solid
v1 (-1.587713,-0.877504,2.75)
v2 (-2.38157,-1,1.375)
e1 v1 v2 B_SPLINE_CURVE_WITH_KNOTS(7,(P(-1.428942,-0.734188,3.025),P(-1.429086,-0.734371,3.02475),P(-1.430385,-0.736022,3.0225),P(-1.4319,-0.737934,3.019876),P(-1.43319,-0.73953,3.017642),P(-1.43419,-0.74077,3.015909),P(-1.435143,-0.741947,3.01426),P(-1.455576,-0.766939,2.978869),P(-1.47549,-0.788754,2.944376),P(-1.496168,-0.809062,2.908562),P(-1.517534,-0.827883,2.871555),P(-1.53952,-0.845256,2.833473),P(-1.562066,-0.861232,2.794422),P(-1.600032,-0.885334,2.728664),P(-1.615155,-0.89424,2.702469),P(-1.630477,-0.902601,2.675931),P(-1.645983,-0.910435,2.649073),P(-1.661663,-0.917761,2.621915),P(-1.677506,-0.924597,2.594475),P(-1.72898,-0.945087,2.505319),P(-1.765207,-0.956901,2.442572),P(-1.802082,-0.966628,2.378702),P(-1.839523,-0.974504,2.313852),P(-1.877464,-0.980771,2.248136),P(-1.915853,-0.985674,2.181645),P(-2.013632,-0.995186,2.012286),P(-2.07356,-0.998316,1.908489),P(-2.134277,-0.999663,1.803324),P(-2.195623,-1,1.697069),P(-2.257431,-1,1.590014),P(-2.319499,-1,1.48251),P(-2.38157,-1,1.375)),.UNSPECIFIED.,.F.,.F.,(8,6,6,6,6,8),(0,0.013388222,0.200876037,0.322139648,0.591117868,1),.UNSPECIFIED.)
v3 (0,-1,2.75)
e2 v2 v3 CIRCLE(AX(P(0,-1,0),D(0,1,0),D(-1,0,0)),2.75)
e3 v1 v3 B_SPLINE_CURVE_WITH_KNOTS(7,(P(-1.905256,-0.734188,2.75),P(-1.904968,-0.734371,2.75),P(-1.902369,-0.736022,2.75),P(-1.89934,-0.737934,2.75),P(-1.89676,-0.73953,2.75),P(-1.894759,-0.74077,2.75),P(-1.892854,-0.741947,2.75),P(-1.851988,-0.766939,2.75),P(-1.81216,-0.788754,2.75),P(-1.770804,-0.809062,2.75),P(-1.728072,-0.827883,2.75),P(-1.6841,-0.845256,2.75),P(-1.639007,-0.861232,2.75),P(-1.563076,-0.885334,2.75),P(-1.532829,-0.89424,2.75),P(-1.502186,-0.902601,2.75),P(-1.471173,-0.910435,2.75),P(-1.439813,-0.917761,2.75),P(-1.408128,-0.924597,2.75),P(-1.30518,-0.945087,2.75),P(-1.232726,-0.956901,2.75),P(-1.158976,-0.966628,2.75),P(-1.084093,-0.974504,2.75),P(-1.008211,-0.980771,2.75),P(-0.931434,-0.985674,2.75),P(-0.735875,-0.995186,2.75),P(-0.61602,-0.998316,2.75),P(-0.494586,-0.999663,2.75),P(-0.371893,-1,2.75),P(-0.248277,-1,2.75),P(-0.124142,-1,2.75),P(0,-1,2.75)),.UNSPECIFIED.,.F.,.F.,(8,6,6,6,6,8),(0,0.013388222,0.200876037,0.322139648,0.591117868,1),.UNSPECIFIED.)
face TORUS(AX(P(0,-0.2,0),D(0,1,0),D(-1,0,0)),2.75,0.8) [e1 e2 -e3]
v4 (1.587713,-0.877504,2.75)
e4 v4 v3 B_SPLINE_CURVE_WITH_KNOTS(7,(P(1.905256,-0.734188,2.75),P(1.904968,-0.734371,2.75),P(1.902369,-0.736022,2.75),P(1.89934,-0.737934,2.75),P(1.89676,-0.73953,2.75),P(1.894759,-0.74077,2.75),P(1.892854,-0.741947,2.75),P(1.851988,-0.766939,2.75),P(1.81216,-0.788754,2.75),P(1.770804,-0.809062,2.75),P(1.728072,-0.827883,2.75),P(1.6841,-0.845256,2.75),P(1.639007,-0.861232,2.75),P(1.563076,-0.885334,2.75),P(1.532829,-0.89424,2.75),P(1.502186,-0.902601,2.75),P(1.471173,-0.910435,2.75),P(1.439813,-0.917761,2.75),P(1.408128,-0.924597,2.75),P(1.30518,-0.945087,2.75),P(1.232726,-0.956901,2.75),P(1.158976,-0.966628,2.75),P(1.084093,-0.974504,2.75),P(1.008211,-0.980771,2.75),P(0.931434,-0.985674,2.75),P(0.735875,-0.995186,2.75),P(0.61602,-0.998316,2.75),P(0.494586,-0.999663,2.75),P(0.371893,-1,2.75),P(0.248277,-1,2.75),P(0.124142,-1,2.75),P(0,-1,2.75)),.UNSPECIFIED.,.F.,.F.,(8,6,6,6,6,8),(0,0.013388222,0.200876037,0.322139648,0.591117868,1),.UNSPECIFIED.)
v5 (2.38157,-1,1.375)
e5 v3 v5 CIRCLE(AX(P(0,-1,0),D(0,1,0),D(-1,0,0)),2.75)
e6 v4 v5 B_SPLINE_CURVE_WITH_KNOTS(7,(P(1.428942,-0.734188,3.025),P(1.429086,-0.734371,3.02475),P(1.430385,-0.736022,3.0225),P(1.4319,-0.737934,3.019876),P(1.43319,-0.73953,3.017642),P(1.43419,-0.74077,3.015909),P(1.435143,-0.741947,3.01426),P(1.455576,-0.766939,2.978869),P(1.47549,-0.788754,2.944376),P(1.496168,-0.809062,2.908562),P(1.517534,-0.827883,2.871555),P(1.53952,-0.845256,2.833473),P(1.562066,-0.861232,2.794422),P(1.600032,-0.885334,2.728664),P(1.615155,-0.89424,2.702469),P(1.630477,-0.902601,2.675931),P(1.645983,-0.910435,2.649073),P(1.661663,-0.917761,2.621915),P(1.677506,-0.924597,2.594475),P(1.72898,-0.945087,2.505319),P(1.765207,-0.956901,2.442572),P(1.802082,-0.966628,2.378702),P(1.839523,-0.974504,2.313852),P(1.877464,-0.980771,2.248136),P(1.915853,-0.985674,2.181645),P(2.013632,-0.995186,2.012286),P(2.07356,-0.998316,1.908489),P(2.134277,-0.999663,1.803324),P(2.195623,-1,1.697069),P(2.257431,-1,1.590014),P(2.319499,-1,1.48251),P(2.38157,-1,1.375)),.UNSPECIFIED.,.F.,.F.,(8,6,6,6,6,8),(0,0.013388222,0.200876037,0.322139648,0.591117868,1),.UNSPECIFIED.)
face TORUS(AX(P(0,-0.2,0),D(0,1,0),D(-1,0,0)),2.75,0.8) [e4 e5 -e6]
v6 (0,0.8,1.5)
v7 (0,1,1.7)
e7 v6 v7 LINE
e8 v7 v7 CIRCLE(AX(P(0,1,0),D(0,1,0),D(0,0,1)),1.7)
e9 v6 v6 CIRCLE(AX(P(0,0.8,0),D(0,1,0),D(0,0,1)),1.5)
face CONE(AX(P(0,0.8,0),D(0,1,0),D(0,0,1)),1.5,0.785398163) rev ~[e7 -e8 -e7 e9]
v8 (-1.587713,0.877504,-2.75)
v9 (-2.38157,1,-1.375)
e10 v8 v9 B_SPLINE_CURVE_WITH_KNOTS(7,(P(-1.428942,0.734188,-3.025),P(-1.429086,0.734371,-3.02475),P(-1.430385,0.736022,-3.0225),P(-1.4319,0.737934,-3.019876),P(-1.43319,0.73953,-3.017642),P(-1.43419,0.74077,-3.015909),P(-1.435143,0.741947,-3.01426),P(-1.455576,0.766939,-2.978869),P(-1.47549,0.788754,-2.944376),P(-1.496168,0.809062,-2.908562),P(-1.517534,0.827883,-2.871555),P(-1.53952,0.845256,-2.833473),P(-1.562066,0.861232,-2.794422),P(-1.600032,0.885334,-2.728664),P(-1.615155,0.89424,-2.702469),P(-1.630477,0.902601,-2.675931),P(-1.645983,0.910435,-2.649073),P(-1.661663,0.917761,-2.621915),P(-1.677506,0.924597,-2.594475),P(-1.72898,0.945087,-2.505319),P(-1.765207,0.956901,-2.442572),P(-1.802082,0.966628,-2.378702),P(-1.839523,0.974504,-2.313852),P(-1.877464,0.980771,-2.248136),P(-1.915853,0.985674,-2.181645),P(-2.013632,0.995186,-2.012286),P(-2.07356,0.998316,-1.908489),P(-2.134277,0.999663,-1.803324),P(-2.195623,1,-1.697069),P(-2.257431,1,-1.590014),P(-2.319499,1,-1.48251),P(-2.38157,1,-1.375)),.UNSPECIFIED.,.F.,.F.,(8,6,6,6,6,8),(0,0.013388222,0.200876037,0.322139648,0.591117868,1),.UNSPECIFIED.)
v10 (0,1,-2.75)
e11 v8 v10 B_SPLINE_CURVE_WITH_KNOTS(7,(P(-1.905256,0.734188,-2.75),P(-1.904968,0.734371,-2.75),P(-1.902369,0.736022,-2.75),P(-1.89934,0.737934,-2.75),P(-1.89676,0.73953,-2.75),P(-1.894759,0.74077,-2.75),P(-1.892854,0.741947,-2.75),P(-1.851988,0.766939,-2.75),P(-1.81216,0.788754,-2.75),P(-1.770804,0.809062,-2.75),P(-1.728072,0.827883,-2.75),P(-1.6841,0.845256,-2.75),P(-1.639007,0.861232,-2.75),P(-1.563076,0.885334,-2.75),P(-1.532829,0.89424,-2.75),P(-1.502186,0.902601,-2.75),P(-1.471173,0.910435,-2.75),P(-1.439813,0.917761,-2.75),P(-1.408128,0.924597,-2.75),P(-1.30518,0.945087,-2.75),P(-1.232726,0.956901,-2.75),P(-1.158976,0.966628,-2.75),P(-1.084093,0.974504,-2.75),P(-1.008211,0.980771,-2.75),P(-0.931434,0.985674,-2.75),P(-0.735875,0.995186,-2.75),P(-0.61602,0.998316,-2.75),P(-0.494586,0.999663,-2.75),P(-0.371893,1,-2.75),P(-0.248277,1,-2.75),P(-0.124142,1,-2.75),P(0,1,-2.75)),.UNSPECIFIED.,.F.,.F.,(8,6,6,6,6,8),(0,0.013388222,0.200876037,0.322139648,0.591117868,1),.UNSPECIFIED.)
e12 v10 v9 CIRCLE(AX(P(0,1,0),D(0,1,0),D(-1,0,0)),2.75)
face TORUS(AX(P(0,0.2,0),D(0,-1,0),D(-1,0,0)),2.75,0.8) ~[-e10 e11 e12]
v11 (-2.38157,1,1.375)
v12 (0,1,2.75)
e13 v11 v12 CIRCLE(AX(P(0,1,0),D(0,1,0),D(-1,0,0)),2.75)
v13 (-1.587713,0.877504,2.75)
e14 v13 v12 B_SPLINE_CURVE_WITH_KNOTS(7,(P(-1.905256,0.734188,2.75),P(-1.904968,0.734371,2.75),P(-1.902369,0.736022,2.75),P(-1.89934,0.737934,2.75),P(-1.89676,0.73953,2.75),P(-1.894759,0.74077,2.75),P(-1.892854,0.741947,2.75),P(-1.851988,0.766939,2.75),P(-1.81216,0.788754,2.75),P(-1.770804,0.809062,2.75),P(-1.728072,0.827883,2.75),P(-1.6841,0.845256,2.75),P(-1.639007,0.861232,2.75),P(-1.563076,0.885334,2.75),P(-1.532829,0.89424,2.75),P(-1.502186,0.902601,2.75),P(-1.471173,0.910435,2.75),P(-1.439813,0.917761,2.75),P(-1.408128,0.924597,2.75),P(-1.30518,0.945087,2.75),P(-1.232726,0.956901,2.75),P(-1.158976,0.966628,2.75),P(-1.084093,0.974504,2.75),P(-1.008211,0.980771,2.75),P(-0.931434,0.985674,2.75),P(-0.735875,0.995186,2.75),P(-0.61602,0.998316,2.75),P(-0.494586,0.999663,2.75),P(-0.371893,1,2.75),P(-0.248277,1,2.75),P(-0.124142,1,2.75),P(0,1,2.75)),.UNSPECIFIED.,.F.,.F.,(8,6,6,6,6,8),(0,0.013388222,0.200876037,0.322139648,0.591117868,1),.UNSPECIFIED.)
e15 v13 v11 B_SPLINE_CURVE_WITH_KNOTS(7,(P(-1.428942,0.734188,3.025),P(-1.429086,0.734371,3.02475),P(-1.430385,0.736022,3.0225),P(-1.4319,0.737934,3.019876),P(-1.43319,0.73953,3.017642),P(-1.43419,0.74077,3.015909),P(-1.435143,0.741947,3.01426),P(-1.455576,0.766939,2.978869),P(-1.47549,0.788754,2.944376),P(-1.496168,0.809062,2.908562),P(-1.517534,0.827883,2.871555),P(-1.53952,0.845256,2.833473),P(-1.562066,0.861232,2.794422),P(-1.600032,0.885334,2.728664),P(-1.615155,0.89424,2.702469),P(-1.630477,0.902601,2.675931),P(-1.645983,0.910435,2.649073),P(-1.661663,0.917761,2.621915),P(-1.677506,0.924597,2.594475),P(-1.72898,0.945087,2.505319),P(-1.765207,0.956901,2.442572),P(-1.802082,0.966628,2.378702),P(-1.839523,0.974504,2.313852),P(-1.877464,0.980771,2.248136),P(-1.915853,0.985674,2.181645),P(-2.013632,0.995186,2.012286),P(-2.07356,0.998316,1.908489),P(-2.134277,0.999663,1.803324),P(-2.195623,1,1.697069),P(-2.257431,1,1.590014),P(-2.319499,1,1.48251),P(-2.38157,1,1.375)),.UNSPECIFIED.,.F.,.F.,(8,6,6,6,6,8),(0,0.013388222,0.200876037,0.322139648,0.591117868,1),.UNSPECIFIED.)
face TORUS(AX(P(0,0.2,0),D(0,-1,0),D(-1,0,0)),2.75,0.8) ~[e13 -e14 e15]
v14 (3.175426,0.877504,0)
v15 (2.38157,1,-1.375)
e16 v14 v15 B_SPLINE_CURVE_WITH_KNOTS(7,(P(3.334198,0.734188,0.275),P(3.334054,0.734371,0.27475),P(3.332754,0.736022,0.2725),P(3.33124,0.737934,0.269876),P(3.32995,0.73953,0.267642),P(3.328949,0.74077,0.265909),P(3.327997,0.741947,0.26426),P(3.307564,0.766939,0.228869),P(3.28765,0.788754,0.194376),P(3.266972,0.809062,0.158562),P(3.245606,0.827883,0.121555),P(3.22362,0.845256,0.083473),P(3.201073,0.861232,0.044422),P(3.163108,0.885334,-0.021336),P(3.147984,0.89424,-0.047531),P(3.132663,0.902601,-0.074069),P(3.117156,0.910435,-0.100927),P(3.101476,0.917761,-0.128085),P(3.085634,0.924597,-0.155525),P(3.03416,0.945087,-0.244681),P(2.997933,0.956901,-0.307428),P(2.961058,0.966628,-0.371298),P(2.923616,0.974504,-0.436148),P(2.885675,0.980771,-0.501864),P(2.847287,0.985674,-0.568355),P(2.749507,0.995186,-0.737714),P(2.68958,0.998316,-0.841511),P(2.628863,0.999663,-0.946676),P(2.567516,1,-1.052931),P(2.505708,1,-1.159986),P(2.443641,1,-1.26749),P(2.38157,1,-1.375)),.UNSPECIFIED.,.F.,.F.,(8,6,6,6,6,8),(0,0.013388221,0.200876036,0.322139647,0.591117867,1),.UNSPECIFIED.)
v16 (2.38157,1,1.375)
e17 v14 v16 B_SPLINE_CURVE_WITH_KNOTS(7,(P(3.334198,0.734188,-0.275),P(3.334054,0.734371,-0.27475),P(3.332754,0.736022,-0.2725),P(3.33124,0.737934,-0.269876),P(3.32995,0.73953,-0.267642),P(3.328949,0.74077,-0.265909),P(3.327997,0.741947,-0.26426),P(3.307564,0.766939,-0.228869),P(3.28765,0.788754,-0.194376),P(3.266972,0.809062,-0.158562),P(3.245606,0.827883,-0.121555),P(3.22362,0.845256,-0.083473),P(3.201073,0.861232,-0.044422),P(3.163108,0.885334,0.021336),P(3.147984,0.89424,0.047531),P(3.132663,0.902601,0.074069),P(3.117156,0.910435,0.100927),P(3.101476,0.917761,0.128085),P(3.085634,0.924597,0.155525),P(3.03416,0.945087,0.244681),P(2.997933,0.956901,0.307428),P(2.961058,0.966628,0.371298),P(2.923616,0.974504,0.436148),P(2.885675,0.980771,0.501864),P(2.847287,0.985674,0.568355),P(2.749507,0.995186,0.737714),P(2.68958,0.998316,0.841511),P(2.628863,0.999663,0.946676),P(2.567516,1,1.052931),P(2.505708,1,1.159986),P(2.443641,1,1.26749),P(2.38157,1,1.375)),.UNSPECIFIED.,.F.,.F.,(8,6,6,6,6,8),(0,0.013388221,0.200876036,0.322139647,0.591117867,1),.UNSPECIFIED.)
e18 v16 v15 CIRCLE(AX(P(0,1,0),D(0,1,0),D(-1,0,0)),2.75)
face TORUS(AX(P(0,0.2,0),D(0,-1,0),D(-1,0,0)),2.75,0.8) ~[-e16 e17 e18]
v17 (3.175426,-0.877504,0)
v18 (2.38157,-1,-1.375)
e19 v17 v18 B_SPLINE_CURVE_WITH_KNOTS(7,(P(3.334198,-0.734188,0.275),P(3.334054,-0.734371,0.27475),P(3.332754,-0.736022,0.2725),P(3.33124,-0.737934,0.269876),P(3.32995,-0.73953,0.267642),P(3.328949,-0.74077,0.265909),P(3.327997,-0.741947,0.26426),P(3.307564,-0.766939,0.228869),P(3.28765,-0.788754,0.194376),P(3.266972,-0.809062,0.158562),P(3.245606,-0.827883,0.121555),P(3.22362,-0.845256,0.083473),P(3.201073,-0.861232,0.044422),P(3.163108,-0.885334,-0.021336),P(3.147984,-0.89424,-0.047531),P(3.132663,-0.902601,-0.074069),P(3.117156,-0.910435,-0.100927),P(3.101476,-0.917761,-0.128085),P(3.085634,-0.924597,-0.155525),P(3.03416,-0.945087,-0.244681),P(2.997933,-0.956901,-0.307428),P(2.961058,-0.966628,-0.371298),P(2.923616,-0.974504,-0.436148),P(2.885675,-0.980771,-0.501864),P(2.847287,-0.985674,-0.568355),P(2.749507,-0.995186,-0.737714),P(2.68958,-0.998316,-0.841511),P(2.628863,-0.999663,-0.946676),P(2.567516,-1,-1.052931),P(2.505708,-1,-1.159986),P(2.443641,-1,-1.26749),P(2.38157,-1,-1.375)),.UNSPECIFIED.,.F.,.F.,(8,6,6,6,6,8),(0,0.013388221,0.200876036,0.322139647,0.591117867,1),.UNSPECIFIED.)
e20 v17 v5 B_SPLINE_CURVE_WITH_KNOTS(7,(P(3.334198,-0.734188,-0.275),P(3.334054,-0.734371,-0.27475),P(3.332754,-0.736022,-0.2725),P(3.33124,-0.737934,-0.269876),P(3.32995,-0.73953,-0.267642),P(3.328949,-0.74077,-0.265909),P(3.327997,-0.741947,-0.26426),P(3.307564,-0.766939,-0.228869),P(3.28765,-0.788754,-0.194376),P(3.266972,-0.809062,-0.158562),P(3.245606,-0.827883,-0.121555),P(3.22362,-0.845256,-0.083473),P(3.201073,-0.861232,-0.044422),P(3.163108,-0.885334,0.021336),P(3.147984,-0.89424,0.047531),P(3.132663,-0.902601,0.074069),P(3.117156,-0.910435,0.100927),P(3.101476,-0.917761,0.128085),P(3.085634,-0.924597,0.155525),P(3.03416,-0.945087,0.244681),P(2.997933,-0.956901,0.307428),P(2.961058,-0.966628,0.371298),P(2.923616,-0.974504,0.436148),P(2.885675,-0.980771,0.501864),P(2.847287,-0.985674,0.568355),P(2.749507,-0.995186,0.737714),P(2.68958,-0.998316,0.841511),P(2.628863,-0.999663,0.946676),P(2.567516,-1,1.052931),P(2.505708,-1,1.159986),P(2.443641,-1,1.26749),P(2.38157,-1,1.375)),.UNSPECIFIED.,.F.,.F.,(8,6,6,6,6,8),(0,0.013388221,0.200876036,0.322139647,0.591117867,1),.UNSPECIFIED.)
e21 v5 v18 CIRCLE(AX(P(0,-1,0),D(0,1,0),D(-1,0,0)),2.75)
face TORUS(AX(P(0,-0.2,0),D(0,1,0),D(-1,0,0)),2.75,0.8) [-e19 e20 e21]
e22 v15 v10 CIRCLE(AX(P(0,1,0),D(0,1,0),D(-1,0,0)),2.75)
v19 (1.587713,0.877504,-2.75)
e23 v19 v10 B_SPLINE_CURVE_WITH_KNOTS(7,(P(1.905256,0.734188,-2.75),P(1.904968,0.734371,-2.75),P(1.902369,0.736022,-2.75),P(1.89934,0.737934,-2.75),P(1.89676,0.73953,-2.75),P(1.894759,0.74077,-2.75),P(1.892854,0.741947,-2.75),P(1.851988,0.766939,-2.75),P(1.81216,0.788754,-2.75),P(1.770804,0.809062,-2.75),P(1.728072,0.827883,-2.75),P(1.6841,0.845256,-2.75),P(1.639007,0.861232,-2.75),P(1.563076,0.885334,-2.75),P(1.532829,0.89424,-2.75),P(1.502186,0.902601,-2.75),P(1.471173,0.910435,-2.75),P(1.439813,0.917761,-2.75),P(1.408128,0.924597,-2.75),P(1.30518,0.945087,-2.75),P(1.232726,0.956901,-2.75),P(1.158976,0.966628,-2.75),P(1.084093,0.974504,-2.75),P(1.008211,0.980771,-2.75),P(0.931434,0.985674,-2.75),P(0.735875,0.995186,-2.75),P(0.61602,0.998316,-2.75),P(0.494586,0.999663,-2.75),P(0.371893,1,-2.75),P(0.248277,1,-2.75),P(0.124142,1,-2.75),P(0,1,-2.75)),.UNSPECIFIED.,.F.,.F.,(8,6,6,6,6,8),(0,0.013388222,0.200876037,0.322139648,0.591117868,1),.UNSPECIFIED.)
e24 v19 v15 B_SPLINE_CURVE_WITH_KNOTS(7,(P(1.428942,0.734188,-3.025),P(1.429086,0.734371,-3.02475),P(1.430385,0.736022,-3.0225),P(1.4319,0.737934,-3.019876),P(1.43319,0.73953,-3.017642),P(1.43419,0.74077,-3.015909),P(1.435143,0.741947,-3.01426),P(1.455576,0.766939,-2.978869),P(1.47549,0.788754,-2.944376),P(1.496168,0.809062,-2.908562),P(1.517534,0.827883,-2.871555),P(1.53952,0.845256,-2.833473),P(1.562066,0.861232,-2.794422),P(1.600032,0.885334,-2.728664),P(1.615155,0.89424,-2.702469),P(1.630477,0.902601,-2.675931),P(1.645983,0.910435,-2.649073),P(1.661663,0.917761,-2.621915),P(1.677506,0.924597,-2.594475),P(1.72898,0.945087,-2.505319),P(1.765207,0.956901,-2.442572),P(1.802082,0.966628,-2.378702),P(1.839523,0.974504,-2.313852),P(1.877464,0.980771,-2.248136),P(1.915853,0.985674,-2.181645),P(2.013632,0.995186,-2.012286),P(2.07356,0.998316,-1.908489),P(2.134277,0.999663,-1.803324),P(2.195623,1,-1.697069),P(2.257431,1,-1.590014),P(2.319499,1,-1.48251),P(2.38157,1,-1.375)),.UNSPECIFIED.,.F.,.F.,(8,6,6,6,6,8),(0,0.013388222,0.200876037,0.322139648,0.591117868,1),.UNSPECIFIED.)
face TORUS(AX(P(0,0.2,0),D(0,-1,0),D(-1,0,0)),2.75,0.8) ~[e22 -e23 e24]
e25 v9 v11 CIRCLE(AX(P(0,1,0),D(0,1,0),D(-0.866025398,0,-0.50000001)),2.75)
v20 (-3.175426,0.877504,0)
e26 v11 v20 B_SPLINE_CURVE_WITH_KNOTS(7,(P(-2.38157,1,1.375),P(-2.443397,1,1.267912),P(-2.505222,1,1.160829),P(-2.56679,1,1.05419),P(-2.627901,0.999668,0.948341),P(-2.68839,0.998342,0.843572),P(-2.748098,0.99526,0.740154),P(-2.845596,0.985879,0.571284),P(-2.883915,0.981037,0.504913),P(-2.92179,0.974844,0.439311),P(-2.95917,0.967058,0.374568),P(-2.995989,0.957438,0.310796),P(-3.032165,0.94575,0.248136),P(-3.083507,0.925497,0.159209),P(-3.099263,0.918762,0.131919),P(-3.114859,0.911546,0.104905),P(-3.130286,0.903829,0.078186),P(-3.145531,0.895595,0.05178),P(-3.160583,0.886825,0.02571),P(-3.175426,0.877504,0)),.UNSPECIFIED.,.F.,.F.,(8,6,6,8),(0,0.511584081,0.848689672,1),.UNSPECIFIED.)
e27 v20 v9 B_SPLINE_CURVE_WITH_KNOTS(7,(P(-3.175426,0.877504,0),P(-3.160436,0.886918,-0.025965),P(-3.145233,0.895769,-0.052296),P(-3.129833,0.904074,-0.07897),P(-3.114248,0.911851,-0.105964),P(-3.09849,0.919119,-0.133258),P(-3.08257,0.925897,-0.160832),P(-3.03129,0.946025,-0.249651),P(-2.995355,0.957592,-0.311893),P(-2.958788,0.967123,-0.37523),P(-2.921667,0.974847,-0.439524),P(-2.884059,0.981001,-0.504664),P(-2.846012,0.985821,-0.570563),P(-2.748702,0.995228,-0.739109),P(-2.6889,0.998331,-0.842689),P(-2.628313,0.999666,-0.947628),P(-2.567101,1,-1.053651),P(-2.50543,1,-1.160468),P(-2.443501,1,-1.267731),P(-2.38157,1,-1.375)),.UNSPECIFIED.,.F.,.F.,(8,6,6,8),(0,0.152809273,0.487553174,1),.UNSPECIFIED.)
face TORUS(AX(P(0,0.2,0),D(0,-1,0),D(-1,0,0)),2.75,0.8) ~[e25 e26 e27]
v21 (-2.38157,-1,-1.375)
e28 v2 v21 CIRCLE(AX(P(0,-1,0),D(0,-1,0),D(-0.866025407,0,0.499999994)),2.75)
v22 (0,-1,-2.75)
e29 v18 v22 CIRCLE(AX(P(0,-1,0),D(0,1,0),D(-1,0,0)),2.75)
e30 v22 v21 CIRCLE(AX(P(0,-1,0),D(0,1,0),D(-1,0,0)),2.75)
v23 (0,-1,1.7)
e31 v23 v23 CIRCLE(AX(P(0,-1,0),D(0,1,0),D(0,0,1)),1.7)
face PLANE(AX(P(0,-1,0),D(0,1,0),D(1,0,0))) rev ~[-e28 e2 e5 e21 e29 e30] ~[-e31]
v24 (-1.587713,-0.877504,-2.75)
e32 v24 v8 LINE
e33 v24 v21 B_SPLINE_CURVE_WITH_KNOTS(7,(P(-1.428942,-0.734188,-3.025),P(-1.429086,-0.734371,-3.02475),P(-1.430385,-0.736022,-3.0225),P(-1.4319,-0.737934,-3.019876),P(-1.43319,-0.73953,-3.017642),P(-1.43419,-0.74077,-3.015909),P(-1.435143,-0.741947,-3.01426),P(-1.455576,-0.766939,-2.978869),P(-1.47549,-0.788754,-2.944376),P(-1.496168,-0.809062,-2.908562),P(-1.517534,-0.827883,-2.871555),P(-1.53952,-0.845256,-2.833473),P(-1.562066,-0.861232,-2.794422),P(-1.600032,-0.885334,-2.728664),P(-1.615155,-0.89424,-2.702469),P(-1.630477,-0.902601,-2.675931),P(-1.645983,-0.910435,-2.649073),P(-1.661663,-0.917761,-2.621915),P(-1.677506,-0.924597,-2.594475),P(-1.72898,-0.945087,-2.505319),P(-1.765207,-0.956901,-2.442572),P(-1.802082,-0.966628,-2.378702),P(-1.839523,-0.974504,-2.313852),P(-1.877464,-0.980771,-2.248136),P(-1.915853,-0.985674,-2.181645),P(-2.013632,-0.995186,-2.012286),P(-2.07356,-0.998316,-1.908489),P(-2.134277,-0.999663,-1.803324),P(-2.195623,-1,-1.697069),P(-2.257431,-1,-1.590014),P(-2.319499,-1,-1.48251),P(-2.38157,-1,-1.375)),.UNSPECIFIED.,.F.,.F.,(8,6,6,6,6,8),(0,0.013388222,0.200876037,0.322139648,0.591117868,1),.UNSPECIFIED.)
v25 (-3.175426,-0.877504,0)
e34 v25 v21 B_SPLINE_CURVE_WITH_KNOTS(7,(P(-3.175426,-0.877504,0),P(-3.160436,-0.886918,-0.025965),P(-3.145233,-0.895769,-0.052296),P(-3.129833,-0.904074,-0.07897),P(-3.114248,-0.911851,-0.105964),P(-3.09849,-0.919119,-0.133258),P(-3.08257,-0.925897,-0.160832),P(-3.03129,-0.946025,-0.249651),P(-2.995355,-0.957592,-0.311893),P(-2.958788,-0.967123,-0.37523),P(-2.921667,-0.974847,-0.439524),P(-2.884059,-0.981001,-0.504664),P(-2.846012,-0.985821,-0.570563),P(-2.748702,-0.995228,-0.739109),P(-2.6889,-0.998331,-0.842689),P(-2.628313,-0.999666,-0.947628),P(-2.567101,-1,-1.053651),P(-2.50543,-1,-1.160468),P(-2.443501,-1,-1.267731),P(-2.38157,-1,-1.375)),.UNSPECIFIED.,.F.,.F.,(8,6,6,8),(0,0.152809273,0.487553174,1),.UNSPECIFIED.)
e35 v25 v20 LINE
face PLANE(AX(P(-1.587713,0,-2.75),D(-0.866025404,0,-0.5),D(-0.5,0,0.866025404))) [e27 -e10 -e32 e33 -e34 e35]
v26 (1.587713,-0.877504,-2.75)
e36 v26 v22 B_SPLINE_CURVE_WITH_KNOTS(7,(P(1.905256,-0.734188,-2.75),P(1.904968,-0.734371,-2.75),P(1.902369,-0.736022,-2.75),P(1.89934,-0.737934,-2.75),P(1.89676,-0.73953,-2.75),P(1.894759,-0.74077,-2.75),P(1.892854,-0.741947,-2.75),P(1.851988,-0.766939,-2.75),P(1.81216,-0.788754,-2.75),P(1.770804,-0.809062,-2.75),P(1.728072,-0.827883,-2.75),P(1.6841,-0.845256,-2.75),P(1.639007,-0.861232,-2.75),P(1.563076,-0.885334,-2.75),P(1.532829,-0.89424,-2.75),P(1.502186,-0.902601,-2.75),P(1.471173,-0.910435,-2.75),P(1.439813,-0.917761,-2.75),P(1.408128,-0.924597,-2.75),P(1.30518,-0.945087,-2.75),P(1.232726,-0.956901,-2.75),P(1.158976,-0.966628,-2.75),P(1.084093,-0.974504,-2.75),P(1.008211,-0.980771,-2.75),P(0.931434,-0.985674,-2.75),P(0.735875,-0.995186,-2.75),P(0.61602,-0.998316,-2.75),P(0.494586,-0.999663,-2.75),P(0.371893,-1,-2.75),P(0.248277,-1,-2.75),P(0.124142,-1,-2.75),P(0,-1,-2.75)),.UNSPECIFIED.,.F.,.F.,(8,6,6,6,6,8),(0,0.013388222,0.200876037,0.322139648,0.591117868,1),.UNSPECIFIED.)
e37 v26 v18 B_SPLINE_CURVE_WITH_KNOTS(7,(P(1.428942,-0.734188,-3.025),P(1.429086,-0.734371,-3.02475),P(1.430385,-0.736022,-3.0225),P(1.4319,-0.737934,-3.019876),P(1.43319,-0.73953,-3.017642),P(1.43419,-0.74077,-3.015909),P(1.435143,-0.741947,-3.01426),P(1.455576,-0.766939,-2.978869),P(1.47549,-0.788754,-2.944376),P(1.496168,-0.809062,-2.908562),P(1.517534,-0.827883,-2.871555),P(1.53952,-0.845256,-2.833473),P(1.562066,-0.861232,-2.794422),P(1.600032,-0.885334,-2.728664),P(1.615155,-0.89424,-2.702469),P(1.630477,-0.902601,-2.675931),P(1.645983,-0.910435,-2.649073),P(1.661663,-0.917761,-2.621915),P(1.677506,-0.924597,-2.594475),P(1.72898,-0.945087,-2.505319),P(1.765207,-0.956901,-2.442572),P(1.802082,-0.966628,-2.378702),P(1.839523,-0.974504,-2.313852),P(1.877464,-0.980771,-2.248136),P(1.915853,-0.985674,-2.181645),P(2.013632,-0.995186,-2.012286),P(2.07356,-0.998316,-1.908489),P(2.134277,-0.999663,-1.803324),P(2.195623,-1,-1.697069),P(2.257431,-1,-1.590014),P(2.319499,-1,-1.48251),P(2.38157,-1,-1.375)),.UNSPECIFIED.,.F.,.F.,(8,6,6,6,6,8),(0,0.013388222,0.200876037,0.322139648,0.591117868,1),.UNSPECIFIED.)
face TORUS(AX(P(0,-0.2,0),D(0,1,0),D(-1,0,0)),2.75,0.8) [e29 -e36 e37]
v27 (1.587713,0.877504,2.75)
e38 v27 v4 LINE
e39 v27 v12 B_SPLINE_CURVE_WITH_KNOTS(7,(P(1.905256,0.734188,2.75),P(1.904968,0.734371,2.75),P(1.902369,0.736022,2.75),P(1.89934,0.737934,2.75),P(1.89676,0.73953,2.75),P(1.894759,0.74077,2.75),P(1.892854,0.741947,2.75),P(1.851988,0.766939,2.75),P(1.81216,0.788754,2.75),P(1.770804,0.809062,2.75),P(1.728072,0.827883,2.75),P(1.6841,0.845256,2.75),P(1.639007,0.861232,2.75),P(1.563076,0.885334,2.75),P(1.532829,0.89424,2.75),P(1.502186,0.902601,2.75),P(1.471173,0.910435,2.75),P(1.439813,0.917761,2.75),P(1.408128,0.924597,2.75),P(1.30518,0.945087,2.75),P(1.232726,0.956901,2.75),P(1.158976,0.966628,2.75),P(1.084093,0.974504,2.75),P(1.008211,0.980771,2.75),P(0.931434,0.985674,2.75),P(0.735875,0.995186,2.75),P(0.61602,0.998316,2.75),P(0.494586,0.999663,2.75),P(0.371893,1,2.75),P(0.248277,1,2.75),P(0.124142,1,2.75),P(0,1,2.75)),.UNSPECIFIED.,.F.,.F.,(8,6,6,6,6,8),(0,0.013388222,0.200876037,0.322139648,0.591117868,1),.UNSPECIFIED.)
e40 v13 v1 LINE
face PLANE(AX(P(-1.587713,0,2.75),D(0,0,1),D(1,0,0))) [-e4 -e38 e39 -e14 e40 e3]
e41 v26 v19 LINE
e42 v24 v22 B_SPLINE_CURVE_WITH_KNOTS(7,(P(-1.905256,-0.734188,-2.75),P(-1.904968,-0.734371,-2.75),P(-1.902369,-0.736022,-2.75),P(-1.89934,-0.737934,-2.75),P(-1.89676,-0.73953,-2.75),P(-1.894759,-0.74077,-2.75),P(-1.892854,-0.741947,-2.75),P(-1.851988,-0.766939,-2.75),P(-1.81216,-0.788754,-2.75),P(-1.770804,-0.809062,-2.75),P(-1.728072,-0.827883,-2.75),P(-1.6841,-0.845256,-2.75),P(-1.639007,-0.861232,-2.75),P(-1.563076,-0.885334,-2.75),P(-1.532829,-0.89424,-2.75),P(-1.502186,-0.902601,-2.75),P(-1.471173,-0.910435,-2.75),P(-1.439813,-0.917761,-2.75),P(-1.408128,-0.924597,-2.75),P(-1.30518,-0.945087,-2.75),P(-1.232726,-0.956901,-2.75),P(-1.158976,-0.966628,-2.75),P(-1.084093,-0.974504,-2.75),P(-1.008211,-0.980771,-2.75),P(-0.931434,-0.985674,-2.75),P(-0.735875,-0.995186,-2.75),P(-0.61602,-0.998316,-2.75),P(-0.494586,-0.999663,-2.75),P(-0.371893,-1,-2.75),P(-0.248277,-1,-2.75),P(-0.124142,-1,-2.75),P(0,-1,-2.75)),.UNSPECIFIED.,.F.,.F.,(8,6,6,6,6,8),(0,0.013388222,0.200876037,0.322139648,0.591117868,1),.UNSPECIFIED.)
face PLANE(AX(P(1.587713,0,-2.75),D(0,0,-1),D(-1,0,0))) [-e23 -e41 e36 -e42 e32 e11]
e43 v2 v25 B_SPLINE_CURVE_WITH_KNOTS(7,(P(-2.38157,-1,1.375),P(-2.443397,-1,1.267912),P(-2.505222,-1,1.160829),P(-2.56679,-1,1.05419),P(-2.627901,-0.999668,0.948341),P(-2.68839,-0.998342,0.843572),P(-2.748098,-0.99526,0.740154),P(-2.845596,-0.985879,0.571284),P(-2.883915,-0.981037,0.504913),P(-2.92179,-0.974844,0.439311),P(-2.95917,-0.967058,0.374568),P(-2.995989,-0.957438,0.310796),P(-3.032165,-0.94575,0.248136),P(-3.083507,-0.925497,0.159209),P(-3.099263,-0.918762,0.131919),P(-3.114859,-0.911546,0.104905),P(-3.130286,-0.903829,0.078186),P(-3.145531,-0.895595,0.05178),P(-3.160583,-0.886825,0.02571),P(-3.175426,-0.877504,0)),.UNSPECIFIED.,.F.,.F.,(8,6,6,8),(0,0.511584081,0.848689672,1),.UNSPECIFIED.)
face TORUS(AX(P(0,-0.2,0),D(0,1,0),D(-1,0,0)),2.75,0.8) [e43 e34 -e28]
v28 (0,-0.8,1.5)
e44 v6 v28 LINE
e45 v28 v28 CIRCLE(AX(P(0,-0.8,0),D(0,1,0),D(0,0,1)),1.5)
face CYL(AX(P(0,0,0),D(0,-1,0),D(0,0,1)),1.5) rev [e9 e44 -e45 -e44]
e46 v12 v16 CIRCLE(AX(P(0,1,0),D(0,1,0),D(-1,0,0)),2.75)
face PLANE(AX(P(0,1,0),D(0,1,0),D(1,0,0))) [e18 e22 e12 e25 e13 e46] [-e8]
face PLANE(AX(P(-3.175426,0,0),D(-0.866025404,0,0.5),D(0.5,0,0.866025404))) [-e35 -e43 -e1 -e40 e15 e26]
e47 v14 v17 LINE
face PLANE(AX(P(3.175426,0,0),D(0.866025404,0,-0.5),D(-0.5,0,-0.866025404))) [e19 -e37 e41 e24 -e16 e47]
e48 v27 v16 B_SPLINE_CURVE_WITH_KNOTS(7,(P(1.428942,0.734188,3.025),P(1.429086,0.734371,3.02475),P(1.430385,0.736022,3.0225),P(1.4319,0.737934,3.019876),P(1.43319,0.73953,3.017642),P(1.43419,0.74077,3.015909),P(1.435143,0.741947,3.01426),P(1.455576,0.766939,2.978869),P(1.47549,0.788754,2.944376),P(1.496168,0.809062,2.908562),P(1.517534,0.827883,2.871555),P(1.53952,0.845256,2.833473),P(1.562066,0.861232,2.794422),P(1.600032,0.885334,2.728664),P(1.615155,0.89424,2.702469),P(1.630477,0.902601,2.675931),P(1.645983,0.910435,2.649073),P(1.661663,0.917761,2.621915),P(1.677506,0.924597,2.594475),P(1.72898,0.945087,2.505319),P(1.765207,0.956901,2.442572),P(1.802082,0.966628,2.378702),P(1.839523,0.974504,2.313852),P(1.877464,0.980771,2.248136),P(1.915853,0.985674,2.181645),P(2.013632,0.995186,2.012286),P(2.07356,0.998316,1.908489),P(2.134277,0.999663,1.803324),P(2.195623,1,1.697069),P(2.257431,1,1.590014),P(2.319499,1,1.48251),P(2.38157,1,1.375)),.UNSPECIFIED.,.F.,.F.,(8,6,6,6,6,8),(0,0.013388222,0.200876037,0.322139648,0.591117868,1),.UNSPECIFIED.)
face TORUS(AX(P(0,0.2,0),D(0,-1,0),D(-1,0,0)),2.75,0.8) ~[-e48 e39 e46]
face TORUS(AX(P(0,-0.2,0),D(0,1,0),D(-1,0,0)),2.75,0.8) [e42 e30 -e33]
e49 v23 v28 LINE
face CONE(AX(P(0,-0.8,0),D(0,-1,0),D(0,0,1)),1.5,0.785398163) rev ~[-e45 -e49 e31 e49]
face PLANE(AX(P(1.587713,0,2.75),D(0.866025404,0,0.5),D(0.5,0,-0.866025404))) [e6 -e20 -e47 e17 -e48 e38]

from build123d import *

# Parameters (mm, degrees)
SKETCH1_R           = 1.5
BOSS_EXTRUDE1_DEPTH = 1
CHAMFER1_SIZE       = 0.2


with BuildPart() as part:
    # Sketch1 → Boss-Extrude1 (new, symmetric)
    with BuildSketch(Plane(origin=(0, 0, 0), x_dir=(1, 0, 0), z_dir=(0, 1, 0))):
        Polygon((3.175426481, 0), (1.58771324, 2.75), (-1.58771324, 2.75), (-3.175426481, 0), (-1.58771324, -2.75), (1.58771324, -2.75), align=None)
        with Locations(Location((0, 0, 0), (0, 0, 270))):
            Circle(SKETCH1_R, mode=Mode.SUBTRACT)
    extrude(amount=BOSS_EXTRUDE1_DEPTH, both=True)

    # Sketch2 → Cut-Revolve1 (revolve, cut)
    with BuildSketch(Plane.XY):
        with BuildLine():
            Line((-3.55, -0.2), (-3.55, -1))
            Line((-3.55, -1), (-2.75, -1))
            ThreePointArc((-2.75, -1), (-3.315685425, -0.765685425), (-3.55, -0.2))
        make_face()
    cut_revolve1 = revolve(axis=Axis((0, 0, 0), (0, 1, 0)), mode=Mode.SUBTRACT)

    # Mirror2: Cut-Revolve1 across plane
    add(cut_revolve1.mirror(Plane.ZX), mode=Mode.SUBTRACT)

    # Chamfer1
    chamfer1_edges = [part.edges().sort_by_distance(p)[0] for p in [
        (0, -1, -1.5),
        (0, 1, -1.5),
    ]]
    chamfer(chamfer1_edges, length=CHAMFER1_SIZE)


solid = part.part
